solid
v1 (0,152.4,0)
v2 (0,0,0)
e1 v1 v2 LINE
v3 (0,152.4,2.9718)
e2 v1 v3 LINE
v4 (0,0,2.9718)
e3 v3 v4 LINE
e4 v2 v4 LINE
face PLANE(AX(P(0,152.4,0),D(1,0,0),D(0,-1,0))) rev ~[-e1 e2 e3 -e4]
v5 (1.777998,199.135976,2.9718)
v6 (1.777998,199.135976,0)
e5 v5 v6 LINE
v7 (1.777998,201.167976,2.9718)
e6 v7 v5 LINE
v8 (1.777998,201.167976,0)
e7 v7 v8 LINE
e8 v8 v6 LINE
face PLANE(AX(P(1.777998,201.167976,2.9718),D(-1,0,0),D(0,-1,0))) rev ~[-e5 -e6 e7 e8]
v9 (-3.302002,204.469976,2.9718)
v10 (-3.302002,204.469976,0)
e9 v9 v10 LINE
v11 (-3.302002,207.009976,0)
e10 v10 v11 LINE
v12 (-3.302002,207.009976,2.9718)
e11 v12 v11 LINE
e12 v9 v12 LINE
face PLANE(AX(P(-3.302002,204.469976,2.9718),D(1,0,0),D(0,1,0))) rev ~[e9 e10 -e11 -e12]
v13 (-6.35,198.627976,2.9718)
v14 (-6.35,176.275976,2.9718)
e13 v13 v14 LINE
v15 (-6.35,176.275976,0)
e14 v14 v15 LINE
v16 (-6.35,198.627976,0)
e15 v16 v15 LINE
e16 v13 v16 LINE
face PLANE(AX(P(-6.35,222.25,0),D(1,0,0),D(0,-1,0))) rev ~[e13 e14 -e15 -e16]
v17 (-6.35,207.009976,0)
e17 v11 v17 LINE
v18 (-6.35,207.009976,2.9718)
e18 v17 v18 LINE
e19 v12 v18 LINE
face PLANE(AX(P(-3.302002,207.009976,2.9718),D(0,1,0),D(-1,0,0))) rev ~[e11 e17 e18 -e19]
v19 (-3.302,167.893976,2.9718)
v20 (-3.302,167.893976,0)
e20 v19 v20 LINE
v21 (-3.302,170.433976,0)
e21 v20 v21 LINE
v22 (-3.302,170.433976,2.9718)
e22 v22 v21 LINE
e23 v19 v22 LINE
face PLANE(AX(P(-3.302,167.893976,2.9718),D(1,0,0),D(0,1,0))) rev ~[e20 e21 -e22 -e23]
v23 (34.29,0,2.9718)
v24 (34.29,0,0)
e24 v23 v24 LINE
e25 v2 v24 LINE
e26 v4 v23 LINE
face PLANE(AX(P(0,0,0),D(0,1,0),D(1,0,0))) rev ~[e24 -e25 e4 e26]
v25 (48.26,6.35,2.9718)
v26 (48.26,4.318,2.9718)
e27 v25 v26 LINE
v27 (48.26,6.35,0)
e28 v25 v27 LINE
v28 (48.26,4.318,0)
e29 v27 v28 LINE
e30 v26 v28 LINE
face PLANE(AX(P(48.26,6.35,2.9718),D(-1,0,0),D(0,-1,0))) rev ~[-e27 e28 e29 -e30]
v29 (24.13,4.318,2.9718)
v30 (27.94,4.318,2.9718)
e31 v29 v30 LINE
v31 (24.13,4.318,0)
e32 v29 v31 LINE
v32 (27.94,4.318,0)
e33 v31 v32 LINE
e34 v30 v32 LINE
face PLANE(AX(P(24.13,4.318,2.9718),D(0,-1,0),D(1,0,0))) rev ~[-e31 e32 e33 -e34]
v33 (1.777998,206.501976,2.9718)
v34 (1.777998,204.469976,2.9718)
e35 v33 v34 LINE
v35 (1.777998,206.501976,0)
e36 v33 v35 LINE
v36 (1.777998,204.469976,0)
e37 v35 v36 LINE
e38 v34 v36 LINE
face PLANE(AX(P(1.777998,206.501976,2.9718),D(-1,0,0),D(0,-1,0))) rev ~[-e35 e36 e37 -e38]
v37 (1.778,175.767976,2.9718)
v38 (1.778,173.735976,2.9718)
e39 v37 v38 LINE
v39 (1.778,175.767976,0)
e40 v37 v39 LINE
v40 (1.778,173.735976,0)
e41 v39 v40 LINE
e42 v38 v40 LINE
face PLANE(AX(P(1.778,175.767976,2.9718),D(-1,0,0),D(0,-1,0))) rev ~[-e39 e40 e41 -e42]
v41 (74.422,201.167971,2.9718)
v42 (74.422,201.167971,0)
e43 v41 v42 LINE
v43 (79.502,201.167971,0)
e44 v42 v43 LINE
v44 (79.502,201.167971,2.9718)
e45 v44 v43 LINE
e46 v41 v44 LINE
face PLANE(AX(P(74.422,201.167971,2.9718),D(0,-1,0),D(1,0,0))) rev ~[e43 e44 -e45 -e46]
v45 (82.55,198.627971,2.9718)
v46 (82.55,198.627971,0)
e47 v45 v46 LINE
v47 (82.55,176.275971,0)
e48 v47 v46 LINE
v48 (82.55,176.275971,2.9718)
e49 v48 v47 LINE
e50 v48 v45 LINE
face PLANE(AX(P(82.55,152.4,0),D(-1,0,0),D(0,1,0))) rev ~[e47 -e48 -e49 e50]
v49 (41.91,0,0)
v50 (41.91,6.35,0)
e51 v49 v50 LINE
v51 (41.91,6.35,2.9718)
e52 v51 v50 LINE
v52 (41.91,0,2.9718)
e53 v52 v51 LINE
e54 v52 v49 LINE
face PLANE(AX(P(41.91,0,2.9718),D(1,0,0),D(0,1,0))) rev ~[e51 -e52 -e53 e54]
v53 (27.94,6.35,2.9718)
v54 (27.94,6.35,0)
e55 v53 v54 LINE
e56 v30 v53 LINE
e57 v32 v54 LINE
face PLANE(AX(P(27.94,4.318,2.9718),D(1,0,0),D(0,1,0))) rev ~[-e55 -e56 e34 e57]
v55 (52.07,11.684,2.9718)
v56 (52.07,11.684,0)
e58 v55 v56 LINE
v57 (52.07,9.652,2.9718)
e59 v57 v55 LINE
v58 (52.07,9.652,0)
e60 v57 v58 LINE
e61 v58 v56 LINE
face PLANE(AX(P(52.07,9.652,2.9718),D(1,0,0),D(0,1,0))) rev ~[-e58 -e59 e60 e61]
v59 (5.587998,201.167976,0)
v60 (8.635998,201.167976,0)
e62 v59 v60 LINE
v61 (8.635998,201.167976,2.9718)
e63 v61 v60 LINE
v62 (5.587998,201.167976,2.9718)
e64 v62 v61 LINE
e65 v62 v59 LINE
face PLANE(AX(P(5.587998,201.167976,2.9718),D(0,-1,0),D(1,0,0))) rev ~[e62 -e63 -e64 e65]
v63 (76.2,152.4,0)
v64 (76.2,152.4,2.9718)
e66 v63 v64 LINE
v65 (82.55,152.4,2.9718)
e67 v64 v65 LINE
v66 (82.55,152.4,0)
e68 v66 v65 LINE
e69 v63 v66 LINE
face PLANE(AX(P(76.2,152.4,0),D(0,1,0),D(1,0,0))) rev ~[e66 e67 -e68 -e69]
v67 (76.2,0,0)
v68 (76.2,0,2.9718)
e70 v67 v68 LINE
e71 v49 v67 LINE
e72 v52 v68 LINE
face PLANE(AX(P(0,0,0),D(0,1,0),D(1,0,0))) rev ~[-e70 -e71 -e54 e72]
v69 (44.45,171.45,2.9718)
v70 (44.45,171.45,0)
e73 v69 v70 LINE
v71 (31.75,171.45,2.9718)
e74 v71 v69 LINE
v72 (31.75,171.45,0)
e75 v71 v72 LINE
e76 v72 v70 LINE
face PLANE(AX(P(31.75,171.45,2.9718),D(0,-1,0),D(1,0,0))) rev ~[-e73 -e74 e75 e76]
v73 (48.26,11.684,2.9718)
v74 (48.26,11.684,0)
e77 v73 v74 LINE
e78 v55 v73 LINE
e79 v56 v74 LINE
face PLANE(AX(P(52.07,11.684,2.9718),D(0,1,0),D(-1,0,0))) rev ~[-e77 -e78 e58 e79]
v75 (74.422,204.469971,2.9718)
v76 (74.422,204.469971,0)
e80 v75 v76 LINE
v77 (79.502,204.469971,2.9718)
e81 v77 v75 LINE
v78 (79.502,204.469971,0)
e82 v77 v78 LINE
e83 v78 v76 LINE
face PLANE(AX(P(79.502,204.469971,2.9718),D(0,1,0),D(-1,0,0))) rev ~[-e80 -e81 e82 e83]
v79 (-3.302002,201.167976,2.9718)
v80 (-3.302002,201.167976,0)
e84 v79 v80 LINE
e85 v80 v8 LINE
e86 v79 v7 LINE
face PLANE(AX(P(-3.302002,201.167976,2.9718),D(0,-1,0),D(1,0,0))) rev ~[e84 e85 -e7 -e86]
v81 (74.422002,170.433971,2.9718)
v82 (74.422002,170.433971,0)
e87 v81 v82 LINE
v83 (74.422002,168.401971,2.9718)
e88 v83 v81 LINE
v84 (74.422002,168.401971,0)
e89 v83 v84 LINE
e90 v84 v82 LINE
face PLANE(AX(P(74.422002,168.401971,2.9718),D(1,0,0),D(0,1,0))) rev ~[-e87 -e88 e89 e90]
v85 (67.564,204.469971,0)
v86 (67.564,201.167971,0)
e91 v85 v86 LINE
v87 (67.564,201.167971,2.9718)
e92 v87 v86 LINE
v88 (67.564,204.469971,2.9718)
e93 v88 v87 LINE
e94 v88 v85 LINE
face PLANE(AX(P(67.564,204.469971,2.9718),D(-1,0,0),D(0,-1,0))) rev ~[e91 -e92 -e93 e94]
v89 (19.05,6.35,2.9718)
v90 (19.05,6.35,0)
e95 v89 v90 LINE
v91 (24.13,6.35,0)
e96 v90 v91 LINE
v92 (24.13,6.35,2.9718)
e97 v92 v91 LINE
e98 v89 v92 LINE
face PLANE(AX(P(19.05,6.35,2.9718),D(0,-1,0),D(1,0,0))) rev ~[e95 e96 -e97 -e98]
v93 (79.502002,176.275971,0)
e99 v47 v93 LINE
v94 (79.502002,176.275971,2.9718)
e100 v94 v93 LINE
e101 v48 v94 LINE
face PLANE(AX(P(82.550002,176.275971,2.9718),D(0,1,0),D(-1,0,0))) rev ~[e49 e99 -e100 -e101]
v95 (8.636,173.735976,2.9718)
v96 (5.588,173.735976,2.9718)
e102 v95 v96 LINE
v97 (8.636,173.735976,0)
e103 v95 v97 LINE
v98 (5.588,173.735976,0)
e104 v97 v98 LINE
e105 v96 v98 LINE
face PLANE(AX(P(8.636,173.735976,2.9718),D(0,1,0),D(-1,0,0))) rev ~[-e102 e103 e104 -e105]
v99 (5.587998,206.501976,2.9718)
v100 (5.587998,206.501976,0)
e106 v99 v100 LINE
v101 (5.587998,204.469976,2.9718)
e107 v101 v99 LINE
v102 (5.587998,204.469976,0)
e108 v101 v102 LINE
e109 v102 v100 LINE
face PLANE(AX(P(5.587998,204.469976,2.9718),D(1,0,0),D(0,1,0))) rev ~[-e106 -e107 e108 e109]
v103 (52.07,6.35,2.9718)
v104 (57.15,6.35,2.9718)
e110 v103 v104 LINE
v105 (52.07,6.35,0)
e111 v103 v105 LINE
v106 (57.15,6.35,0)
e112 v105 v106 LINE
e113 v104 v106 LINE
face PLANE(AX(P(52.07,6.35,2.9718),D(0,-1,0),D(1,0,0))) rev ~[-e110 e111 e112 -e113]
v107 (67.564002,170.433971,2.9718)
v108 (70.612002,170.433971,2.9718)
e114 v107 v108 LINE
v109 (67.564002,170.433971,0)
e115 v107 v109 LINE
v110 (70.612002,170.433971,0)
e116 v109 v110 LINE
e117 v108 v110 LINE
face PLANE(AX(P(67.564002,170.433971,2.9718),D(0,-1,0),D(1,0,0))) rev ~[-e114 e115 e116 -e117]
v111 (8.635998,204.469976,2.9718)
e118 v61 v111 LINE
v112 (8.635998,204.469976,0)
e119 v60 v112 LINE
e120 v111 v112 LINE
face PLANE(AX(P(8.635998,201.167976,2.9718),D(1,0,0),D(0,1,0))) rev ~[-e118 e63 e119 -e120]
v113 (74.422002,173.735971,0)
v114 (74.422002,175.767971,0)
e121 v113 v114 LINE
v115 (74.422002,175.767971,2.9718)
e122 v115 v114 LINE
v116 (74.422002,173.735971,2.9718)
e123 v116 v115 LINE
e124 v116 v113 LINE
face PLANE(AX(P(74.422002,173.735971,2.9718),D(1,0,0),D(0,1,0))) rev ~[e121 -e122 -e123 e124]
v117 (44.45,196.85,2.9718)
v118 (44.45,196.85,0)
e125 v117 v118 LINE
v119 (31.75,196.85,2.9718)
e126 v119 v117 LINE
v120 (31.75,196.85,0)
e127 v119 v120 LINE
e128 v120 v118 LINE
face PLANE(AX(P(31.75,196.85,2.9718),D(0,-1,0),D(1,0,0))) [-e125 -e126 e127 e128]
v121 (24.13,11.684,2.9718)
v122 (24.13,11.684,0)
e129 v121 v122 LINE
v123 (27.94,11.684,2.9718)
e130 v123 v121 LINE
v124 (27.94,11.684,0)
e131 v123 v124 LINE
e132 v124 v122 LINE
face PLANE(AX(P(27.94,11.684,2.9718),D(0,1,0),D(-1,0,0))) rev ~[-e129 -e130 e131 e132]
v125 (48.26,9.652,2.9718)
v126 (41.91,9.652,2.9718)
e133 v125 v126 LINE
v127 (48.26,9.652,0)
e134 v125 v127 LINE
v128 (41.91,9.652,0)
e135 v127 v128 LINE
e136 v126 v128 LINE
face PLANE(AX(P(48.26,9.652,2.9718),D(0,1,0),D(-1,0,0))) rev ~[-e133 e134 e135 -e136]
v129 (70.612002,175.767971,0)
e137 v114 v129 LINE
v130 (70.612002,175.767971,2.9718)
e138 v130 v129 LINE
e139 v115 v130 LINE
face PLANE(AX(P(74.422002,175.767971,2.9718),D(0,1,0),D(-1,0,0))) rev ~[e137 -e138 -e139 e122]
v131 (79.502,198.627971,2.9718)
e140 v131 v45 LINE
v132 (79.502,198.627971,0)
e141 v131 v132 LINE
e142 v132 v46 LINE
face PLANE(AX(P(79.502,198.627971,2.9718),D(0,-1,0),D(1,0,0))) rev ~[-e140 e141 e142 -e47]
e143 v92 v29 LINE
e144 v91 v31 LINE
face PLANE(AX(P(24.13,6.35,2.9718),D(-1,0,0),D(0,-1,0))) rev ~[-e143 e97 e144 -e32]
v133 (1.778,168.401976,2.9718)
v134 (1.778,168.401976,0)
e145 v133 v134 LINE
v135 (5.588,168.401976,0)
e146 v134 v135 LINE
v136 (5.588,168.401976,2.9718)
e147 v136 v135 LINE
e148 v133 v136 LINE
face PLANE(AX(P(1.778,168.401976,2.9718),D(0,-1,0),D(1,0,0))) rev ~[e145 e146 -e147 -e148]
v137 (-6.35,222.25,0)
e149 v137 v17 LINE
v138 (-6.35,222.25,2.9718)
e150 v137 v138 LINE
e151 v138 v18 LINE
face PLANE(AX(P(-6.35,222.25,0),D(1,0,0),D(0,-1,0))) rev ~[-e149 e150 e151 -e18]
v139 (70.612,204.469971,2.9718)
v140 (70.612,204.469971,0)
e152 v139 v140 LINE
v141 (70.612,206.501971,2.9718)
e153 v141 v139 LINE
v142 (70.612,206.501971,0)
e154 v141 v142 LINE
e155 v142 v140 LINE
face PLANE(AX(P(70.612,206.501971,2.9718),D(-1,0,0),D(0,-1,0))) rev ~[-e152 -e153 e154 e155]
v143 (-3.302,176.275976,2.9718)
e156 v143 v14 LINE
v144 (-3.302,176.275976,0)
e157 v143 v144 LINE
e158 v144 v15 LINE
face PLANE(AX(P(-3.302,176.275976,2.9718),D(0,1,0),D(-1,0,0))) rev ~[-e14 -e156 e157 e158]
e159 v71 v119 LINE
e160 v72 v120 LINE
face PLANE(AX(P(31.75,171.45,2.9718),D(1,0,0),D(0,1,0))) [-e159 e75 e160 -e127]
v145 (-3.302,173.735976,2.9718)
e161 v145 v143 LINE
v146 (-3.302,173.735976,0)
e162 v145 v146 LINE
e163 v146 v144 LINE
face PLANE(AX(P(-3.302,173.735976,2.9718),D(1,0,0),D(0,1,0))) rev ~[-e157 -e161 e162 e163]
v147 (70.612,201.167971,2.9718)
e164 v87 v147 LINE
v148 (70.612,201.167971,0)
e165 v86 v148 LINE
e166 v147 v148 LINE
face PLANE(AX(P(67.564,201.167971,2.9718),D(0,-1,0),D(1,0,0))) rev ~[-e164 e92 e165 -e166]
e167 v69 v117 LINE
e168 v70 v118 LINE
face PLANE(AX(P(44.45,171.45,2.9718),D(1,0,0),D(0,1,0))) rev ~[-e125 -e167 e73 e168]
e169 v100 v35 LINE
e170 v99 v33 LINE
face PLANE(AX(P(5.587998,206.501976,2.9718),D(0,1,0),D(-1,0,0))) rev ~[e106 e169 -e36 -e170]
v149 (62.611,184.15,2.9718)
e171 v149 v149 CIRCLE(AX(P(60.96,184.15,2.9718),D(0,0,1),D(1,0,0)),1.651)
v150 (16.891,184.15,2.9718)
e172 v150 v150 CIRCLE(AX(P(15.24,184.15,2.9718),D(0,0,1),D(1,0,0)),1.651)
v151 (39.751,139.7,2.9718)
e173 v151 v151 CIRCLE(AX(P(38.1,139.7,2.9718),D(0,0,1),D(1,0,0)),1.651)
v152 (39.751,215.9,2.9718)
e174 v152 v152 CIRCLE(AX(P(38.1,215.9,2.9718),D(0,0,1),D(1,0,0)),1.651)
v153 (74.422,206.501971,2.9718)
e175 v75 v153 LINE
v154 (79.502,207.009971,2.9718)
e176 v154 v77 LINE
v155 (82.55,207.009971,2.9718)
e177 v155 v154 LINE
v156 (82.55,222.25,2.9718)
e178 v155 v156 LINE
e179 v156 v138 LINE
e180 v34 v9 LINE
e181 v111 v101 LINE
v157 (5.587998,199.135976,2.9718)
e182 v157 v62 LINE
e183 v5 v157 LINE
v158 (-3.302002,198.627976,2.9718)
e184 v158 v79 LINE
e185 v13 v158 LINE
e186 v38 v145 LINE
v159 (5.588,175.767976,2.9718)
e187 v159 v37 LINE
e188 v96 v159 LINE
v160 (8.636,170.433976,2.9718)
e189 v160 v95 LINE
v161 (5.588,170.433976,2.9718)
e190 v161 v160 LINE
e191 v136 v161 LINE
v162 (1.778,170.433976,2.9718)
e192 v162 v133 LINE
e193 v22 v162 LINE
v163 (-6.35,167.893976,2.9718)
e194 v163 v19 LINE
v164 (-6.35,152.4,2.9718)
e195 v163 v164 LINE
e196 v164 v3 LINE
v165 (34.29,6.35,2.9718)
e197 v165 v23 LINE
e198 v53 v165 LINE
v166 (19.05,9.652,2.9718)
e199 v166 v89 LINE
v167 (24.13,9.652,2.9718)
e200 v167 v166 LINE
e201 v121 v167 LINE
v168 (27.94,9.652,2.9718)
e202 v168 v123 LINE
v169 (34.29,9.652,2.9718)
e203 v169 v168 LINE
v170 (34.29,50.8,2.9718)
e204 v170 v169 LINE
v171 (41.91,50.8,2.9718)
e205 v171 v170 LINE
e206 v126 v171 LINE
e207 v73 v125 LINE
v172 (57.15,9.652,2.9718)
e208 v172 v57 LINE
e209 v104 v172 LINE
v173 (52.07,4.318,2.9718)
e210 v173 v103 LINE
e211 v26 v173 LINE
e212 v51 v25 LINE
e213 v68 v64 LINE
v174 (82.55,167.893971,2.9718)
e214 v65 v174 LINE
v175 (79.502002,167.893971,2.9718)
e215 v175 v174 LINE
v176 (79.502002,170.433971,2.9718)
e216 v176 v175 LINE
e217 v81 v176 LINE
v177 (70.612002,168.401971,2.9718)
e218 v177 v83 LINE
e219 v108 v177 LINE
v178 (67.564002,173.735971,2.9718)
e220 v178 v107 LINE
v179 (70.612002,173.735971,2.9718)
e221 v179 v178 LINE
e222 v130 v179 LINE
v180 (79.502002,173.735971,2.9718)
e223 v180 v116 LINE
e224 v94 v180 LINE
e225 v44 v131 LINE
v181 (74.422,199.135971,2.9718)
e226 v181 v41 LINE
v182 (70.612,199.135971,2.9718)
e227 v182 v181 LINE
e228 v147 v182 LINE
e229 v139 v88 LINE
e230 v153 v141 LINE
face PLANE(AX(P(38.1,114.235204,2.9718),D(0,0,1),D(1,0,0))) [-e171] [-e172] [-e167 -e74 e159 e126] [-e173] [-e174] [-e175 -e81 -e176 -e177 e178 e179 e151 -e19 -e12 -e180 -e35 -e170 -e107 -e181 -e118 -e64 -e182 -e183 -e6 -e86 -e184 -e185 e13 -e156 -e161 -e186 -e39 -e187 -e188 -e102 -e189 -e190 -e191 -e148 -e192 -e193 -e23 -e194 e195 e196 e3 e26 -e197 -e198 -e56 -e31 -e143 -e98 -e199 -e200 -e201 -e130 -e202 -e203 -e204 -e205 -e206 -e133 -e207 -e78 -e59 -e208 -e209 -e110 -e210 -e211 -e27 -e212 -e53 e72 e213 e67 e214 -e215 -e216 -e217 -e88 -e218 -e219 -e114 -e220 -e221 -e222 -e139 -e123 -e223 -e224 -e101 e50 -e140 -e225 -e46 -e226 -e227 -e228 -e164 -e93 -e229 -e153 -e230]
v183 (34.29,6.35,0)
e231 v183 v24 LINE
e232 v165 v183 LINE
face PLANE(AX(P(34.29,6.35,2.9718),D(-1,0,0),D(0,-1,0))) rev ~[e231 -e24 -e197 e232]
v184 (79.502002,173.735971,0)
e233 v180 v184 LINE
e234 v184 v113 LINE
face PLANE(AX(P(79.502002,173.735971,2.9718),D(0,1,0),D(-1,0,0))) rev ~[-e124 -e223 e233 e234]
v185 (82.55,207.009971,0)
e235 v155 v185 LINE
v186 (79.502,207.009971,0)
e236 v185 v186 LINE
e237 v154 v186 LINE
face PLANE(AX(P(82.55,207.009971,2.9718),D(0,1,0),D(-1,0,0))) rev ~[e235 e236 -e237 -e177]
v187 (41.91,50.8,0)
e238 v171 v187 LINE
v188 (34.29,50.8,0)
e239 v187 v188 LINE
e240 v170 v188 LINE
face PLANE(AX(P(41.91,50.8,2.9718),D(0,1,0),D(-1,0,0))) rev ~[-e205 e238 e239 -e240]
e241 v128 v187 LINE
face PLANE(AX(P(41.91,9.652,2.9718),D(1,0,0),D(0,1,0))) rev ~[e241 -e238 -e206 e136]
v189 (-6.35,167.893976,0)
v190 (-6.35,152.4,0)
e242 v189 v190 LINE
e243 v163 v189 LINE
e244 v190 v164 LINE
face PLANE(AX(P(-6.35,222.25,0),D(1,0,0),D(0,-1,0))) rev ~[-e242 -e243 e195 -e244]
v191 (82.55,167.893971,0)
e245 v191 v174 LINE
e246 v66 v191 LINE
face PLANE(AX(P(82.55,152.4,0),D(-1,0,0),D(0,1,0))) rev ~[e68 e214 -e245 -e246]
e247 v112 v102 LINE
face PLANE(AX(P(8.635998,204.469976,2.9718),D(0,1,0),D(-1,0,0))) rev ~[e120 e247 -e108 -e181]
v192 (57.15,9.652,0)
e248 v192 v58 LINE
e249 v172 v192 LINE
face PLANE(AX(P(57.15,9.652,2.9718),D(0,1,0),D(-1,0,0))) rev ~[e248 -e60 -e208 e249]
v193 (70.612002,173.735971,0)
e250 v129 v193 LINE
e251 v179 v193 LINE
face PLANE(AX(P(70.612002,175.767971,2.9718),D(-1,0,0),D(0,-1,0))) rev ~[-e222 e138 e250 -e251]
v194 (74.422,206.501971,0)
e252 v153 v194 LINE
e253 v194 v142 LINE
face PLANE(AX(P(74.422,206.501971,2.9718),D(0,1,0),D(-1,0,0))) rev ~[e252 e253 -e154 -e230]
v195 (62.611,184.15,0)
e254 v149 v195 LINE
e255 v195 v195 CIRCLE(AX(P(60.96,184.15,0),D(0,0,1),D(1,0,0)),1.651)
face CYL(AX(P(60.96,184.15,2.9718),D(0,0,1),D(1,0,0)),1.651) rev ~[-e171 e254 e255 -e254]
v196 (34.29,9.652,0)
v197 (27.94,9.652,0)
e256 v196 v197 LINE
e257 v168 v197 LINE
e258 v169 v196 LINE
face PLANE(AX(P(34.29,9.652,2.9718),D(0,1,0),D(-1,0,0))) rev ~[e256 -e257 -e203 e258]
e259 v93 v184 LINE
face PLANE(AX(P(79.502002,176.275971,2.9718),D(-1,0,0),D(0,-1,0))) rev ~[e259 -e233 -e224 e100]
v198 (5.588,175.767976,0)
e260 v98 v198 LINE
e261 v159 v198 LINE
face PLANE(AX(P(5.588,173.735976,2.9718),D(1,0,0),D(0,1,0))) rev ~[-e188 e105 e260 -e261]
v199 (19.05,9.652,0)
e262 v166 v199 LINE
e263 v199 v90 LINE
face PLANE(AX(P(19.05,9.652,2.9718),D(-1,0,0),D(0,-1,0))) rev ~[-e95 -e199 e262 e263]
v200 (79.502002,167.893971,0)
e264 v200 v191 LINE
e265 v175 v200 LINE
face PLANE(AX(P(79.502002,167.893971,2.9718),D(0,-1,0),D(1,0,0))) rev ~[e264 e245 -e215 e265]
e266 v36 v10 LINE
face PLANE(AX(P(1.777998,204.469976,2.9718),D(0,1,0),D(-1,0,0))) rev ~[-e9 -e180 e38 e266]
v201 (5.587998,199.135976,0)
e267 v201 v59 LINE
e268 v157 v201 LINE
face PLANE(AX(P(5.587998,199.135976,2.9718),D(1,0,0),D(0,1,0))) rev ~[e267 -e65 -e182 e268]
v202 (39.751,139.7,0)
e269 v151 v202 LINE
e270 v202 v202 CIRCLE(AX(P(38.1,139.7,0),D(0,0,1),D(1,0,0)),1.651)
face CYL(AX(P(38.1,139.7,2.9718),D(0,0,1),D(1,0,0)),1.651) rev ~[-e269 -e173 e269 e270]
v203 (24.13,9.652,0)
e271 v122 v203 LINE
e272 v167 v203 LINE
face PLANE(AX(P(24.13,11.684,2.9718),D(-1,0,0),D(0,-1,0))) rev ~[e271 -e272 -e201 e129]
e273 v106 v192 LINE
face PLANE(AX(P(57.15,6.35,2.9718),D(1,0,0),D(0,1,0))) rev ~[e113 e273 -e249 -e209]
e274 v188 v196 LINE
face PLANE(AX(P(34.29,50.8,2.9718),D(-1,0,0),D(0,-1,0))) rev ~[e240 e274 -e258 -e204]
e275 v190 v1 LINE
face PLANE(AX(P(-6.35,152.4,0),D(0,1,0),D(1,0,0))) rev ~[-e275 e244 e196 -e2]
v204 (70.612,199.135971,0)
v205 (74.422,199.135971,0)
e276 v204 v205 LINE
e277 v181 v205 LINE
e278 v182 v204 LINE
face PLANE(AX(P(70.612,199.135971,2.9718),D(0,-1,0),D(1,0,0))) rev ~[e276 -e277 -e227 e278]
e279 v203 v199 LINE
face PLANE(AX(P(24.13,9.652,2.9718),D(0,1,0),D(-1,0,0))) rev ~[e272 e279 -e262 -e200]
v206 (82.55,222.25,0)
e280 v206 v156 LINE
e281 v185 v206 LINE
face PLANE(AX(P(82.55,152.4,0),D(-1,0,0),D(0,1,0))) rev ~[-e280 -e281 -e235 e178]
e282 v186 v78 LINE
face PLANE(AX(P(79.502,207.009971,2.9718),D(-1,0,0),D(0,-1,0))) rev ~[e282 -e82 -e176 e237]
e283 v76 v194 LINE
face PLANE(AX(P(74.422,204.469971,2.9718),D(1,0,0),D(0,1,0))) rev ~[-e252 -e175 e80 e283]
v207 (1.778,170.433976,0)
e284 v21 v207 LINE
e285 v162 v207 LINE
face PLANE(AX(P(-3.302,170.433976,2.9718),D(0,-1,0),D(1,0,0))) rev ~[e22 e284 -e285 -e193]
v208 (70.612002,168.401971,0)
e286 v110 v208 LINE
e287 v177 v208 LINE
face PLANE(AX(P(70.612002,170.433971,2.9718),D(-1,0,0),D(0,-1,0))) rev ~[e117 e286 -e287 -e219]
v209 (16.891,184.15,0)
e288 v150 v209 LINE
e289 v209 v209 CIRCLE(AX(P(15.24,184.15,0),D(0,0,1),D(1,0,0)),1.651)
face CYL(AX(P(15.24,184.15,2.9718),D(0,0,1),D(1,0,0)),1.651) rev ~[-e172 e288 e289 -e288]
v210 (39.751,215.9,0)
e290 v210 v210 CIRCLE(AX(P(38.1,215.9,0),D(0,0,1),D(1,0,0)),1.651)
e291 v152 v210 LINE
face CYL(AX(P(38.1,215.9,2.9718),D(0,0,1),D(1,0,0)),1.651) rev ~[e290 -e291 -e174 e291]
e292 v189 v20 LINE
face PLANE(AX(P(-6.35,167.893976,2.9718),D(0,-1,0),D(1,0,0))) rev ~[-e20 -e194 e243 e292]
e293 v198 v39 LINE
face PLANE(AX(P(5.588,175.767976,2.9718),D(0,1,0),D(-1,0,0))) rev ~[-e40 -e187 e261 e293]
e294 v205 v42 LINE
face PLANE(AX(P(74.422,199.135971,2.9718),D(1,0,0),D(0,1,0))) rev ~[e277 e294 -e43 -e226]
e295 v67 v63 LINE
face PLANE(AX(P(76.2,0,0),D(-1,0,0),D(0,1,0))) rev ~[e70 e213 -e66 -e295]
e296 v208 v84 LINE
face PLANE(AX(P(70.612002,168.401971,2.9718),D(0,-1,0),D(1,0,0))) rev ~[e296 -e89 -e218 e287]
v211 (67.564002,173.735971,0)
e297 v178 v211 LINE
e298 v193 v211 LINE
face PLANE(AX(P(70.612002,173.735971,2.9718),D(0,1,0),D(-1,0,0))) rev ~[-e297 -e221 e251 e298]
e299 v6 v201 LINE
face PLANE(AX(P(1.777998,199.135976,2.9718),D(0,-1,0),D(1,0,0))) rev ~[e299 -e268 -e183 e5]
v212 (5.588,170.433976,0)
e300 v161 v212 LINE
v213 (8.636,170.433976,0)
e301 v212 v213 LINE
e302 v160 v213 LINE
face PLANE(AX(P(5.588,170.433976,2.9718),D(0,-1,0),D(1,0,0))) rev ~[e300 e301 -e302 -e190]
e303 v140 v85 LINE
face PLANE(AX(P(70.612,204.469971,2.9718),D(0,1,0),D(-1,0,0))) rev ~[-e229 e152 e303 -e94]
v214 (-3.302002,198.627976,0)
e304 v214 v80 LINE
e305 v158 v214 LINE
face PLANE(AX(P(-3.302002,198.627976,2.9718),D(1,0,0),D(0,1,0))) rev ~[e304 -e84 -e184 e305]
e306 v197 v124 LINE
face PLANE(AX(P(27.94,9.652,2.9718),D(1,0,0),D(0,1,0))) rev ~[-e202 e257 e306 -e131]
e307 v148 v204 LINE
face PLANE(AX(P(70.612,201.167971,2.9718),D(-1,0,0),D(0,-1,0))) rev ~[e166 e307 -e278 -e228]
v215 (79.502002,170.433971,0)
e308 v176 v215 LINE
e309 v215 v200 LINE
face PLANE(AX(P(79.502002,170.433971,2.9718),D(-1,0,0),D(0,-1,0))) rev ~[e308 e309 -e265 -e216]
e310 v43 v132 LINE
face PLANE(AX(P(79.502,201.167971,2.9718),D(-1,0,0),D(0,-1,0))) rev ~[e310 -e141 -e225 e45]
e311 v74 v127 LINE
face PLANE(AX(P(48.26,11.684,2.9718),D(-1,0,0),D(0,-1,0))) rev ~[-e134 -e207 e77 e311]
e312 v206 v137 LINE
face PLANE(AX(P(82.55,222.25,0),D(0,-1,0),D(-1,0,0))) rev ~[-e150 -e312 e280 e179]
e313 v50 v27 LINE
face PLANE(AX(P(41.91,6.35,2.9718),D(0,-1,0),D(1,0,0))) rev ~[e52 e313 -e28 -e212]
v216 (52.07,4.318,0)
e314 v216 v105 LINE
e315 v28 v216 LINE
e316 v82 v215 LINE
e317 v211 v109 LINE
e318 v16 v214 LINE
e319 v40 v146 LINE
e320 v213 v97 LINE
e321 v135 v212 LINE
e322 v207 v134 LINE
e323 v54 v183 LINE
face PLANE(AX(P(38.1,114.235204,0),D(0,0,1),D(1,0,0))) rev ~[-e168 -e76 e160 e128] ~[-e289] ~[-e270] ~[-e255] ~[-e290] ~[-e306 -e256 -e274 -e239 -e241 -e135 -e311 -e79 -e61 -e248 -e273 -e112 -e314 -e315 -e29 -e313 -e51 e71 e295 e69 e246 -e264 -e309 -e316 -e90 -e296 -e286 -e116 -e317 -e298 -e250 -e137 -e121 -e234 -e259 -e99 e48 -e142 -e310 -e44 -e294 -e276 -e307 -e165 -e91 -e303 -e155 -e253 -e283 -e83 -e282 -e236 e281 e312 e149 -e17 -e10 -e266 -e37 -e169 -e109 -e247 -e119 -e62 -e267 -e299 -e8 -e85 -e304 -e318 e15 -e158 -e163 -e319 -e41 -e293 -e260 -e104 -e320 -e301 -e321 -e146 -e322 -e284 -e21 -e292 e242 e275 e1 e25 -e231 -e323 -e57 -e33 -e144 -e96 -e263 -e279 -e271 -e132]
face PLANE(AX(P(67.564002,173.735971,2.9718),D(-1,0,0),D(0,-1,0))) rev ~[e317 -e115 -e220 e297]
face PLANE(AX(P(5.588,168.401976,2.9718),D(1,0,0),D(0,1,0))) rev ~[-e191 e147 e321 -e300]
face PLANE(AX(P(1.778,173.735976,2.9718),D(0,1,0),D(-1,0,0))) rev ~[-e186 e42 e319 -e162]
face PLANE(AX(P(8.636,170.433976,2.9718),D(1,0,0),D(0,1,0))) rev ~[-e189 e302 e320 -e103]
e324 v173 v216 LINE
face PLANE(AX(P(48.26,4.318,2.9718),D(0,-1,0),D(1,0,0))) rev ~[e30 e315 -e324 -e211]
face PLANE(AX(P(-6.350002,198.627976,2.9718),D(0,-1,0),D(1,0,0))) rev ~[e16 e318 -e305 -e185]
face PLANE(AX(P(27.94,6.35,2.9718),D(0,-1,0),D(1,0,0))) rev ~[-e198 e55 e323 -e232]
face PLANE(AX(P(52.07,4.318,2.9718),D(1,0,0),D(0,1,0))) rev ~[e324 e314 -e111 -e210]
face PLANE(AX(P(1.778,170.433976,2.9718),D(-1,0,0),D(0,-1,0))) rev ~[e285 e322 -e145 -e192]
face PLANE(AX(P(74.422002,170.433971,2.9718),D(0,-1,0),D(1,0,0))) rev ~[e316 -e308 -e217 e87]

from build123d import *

# Parameters (mm, degrees)
F1_DEPTH = 2.9718
F2_R     = 1.651
F2_W     = 12.7
F2_H     = 25.4
F3_DEPTH = 2.9728


with BuildPart() as f1:
    # F0 (on Top) → F1 (new body)
    with BuildSketch(Plane.XY):
        Polygon((0, 152.4), (0, 0), (76.2, 0), (76.2, 152.4), (82.55, 152.4), (82.55, 222.25), (76.2, 222.25), (0, 222.25), (-6.35, 222.25), (-6.35, 152.4), align=None)
    extrude(amount=F1_DEPTH)

    # F2 (on face) → F3 (cut, through all)
    with BuildSketch(Plane.XY.offset(2.9718)):
        with Locations((38.1, 215.9)):
            Circle(F2_R)
        with Locations((60.96, 184.15)):
            Circle(F2_R)
        with Locations((15.24, 184.15)):
            Circle(F2_R)
        with Locations((38.1, 184.15)):
            Rectangle(F2_W, F2_H)
        Polygon((34.29, 6.35), (34.29, 0), (41.91, 0), (41.91, 6.35), (48.26, 6.35), (48.26, 4.318), (52.07, 4.318), (52.07, 6.35), (57.15, 6.35), (57.15, 9.652), (52.07, 9.652), (52.07, 11.684), (48.26, 11.684), (48.26, 9.652), (41.91, 9.652), (41.91, 50.8), (34.29, 50.8), (34.29, 9.652), (27.94, 9.652), (27.94, 11.684), (24.13, 11.684), (24.13, 9.652), (19.05, 9.652), (19.05, 6.35), (24.13, 6.35), (24.13, 4.318), (27.94, 4.318), (27.94, 6.35), align=None)
        with Locations((101.6, 63.5)):
            Circle(F2_R)
        Polygon((-3.302, 176.275976), (-6.35, 176.275976), (-6.35, 167.893976), (-3.302, 167.893976), (-3.302, 170.433976), (1.778, 170.433976), (1.778, 168.401976), (5.588, 168.401976), (5.588, 170.433976), (8.636, 170.433976), (8.636, 173.735976), (5.588, 173.735976), (5.588, 175.767976), (1.778, 175.767976), (1.778, 173.735976), (-3.302, 173.735976), align=None)
        Polygon((-3.302002, 207.009976), (-6.350002, 207.009976), (-6.350002, 198.627976), (-3.302002, 198.627976), (-3.302002, 201.167976), (1.777998, 201.167976), (1.777998, 199.135976), (5.587998, 199.135976), (5.587998, 201.167976), (8.635998, 201.167976), (8.635998, 204.469976), (5.587998, 204.469976), (5.587998, 206.501976), (1.777998, 206.501976), (1.777998, 204.469976), (-3.302002, 204.469976), align=None)
        Polygon((79.502, 198.627971), (82.55, 198.627971), (82.55, 207.009971), (79.502, 207.009971), (79.502, 204.469971), (74.422, 204.469971), (74.422, 206.501971), (70.612, 206.501971), (70.612, 204.469971), (67.564, 204.469971), (67.564, 201.167971), (70.612, 201.167971), (70.612, 199.135971), (74.422, 199.135971), (74.422, 201.167971), (79.502, 201.167971), align=None)
        Polygon((79.502002, 167.893971), (82.550002, 167.893971), (82.550002, 176.275971), (79.502002, 176.275971), (79.502002, 173.735971), (74.422002, 173.735971), (74.422002, 175.767971), (70.612002, 175.767971), (70.612002, 173.735971), (67.564002, 173.735971), (67.564002, 170.433971), (70.612002, 170.433971), (70.612002, 168.401971), (74.422002, 168.401971), (74.422002, 170.433971), (79.502002, 170.433971), align=None)
        with Locations((38.1, 139.7)):
            Circle(F2_R)
    extrude(amount=-F3_DEPTH, mode=Mode.SUBTRACT)


solid = f1.part
